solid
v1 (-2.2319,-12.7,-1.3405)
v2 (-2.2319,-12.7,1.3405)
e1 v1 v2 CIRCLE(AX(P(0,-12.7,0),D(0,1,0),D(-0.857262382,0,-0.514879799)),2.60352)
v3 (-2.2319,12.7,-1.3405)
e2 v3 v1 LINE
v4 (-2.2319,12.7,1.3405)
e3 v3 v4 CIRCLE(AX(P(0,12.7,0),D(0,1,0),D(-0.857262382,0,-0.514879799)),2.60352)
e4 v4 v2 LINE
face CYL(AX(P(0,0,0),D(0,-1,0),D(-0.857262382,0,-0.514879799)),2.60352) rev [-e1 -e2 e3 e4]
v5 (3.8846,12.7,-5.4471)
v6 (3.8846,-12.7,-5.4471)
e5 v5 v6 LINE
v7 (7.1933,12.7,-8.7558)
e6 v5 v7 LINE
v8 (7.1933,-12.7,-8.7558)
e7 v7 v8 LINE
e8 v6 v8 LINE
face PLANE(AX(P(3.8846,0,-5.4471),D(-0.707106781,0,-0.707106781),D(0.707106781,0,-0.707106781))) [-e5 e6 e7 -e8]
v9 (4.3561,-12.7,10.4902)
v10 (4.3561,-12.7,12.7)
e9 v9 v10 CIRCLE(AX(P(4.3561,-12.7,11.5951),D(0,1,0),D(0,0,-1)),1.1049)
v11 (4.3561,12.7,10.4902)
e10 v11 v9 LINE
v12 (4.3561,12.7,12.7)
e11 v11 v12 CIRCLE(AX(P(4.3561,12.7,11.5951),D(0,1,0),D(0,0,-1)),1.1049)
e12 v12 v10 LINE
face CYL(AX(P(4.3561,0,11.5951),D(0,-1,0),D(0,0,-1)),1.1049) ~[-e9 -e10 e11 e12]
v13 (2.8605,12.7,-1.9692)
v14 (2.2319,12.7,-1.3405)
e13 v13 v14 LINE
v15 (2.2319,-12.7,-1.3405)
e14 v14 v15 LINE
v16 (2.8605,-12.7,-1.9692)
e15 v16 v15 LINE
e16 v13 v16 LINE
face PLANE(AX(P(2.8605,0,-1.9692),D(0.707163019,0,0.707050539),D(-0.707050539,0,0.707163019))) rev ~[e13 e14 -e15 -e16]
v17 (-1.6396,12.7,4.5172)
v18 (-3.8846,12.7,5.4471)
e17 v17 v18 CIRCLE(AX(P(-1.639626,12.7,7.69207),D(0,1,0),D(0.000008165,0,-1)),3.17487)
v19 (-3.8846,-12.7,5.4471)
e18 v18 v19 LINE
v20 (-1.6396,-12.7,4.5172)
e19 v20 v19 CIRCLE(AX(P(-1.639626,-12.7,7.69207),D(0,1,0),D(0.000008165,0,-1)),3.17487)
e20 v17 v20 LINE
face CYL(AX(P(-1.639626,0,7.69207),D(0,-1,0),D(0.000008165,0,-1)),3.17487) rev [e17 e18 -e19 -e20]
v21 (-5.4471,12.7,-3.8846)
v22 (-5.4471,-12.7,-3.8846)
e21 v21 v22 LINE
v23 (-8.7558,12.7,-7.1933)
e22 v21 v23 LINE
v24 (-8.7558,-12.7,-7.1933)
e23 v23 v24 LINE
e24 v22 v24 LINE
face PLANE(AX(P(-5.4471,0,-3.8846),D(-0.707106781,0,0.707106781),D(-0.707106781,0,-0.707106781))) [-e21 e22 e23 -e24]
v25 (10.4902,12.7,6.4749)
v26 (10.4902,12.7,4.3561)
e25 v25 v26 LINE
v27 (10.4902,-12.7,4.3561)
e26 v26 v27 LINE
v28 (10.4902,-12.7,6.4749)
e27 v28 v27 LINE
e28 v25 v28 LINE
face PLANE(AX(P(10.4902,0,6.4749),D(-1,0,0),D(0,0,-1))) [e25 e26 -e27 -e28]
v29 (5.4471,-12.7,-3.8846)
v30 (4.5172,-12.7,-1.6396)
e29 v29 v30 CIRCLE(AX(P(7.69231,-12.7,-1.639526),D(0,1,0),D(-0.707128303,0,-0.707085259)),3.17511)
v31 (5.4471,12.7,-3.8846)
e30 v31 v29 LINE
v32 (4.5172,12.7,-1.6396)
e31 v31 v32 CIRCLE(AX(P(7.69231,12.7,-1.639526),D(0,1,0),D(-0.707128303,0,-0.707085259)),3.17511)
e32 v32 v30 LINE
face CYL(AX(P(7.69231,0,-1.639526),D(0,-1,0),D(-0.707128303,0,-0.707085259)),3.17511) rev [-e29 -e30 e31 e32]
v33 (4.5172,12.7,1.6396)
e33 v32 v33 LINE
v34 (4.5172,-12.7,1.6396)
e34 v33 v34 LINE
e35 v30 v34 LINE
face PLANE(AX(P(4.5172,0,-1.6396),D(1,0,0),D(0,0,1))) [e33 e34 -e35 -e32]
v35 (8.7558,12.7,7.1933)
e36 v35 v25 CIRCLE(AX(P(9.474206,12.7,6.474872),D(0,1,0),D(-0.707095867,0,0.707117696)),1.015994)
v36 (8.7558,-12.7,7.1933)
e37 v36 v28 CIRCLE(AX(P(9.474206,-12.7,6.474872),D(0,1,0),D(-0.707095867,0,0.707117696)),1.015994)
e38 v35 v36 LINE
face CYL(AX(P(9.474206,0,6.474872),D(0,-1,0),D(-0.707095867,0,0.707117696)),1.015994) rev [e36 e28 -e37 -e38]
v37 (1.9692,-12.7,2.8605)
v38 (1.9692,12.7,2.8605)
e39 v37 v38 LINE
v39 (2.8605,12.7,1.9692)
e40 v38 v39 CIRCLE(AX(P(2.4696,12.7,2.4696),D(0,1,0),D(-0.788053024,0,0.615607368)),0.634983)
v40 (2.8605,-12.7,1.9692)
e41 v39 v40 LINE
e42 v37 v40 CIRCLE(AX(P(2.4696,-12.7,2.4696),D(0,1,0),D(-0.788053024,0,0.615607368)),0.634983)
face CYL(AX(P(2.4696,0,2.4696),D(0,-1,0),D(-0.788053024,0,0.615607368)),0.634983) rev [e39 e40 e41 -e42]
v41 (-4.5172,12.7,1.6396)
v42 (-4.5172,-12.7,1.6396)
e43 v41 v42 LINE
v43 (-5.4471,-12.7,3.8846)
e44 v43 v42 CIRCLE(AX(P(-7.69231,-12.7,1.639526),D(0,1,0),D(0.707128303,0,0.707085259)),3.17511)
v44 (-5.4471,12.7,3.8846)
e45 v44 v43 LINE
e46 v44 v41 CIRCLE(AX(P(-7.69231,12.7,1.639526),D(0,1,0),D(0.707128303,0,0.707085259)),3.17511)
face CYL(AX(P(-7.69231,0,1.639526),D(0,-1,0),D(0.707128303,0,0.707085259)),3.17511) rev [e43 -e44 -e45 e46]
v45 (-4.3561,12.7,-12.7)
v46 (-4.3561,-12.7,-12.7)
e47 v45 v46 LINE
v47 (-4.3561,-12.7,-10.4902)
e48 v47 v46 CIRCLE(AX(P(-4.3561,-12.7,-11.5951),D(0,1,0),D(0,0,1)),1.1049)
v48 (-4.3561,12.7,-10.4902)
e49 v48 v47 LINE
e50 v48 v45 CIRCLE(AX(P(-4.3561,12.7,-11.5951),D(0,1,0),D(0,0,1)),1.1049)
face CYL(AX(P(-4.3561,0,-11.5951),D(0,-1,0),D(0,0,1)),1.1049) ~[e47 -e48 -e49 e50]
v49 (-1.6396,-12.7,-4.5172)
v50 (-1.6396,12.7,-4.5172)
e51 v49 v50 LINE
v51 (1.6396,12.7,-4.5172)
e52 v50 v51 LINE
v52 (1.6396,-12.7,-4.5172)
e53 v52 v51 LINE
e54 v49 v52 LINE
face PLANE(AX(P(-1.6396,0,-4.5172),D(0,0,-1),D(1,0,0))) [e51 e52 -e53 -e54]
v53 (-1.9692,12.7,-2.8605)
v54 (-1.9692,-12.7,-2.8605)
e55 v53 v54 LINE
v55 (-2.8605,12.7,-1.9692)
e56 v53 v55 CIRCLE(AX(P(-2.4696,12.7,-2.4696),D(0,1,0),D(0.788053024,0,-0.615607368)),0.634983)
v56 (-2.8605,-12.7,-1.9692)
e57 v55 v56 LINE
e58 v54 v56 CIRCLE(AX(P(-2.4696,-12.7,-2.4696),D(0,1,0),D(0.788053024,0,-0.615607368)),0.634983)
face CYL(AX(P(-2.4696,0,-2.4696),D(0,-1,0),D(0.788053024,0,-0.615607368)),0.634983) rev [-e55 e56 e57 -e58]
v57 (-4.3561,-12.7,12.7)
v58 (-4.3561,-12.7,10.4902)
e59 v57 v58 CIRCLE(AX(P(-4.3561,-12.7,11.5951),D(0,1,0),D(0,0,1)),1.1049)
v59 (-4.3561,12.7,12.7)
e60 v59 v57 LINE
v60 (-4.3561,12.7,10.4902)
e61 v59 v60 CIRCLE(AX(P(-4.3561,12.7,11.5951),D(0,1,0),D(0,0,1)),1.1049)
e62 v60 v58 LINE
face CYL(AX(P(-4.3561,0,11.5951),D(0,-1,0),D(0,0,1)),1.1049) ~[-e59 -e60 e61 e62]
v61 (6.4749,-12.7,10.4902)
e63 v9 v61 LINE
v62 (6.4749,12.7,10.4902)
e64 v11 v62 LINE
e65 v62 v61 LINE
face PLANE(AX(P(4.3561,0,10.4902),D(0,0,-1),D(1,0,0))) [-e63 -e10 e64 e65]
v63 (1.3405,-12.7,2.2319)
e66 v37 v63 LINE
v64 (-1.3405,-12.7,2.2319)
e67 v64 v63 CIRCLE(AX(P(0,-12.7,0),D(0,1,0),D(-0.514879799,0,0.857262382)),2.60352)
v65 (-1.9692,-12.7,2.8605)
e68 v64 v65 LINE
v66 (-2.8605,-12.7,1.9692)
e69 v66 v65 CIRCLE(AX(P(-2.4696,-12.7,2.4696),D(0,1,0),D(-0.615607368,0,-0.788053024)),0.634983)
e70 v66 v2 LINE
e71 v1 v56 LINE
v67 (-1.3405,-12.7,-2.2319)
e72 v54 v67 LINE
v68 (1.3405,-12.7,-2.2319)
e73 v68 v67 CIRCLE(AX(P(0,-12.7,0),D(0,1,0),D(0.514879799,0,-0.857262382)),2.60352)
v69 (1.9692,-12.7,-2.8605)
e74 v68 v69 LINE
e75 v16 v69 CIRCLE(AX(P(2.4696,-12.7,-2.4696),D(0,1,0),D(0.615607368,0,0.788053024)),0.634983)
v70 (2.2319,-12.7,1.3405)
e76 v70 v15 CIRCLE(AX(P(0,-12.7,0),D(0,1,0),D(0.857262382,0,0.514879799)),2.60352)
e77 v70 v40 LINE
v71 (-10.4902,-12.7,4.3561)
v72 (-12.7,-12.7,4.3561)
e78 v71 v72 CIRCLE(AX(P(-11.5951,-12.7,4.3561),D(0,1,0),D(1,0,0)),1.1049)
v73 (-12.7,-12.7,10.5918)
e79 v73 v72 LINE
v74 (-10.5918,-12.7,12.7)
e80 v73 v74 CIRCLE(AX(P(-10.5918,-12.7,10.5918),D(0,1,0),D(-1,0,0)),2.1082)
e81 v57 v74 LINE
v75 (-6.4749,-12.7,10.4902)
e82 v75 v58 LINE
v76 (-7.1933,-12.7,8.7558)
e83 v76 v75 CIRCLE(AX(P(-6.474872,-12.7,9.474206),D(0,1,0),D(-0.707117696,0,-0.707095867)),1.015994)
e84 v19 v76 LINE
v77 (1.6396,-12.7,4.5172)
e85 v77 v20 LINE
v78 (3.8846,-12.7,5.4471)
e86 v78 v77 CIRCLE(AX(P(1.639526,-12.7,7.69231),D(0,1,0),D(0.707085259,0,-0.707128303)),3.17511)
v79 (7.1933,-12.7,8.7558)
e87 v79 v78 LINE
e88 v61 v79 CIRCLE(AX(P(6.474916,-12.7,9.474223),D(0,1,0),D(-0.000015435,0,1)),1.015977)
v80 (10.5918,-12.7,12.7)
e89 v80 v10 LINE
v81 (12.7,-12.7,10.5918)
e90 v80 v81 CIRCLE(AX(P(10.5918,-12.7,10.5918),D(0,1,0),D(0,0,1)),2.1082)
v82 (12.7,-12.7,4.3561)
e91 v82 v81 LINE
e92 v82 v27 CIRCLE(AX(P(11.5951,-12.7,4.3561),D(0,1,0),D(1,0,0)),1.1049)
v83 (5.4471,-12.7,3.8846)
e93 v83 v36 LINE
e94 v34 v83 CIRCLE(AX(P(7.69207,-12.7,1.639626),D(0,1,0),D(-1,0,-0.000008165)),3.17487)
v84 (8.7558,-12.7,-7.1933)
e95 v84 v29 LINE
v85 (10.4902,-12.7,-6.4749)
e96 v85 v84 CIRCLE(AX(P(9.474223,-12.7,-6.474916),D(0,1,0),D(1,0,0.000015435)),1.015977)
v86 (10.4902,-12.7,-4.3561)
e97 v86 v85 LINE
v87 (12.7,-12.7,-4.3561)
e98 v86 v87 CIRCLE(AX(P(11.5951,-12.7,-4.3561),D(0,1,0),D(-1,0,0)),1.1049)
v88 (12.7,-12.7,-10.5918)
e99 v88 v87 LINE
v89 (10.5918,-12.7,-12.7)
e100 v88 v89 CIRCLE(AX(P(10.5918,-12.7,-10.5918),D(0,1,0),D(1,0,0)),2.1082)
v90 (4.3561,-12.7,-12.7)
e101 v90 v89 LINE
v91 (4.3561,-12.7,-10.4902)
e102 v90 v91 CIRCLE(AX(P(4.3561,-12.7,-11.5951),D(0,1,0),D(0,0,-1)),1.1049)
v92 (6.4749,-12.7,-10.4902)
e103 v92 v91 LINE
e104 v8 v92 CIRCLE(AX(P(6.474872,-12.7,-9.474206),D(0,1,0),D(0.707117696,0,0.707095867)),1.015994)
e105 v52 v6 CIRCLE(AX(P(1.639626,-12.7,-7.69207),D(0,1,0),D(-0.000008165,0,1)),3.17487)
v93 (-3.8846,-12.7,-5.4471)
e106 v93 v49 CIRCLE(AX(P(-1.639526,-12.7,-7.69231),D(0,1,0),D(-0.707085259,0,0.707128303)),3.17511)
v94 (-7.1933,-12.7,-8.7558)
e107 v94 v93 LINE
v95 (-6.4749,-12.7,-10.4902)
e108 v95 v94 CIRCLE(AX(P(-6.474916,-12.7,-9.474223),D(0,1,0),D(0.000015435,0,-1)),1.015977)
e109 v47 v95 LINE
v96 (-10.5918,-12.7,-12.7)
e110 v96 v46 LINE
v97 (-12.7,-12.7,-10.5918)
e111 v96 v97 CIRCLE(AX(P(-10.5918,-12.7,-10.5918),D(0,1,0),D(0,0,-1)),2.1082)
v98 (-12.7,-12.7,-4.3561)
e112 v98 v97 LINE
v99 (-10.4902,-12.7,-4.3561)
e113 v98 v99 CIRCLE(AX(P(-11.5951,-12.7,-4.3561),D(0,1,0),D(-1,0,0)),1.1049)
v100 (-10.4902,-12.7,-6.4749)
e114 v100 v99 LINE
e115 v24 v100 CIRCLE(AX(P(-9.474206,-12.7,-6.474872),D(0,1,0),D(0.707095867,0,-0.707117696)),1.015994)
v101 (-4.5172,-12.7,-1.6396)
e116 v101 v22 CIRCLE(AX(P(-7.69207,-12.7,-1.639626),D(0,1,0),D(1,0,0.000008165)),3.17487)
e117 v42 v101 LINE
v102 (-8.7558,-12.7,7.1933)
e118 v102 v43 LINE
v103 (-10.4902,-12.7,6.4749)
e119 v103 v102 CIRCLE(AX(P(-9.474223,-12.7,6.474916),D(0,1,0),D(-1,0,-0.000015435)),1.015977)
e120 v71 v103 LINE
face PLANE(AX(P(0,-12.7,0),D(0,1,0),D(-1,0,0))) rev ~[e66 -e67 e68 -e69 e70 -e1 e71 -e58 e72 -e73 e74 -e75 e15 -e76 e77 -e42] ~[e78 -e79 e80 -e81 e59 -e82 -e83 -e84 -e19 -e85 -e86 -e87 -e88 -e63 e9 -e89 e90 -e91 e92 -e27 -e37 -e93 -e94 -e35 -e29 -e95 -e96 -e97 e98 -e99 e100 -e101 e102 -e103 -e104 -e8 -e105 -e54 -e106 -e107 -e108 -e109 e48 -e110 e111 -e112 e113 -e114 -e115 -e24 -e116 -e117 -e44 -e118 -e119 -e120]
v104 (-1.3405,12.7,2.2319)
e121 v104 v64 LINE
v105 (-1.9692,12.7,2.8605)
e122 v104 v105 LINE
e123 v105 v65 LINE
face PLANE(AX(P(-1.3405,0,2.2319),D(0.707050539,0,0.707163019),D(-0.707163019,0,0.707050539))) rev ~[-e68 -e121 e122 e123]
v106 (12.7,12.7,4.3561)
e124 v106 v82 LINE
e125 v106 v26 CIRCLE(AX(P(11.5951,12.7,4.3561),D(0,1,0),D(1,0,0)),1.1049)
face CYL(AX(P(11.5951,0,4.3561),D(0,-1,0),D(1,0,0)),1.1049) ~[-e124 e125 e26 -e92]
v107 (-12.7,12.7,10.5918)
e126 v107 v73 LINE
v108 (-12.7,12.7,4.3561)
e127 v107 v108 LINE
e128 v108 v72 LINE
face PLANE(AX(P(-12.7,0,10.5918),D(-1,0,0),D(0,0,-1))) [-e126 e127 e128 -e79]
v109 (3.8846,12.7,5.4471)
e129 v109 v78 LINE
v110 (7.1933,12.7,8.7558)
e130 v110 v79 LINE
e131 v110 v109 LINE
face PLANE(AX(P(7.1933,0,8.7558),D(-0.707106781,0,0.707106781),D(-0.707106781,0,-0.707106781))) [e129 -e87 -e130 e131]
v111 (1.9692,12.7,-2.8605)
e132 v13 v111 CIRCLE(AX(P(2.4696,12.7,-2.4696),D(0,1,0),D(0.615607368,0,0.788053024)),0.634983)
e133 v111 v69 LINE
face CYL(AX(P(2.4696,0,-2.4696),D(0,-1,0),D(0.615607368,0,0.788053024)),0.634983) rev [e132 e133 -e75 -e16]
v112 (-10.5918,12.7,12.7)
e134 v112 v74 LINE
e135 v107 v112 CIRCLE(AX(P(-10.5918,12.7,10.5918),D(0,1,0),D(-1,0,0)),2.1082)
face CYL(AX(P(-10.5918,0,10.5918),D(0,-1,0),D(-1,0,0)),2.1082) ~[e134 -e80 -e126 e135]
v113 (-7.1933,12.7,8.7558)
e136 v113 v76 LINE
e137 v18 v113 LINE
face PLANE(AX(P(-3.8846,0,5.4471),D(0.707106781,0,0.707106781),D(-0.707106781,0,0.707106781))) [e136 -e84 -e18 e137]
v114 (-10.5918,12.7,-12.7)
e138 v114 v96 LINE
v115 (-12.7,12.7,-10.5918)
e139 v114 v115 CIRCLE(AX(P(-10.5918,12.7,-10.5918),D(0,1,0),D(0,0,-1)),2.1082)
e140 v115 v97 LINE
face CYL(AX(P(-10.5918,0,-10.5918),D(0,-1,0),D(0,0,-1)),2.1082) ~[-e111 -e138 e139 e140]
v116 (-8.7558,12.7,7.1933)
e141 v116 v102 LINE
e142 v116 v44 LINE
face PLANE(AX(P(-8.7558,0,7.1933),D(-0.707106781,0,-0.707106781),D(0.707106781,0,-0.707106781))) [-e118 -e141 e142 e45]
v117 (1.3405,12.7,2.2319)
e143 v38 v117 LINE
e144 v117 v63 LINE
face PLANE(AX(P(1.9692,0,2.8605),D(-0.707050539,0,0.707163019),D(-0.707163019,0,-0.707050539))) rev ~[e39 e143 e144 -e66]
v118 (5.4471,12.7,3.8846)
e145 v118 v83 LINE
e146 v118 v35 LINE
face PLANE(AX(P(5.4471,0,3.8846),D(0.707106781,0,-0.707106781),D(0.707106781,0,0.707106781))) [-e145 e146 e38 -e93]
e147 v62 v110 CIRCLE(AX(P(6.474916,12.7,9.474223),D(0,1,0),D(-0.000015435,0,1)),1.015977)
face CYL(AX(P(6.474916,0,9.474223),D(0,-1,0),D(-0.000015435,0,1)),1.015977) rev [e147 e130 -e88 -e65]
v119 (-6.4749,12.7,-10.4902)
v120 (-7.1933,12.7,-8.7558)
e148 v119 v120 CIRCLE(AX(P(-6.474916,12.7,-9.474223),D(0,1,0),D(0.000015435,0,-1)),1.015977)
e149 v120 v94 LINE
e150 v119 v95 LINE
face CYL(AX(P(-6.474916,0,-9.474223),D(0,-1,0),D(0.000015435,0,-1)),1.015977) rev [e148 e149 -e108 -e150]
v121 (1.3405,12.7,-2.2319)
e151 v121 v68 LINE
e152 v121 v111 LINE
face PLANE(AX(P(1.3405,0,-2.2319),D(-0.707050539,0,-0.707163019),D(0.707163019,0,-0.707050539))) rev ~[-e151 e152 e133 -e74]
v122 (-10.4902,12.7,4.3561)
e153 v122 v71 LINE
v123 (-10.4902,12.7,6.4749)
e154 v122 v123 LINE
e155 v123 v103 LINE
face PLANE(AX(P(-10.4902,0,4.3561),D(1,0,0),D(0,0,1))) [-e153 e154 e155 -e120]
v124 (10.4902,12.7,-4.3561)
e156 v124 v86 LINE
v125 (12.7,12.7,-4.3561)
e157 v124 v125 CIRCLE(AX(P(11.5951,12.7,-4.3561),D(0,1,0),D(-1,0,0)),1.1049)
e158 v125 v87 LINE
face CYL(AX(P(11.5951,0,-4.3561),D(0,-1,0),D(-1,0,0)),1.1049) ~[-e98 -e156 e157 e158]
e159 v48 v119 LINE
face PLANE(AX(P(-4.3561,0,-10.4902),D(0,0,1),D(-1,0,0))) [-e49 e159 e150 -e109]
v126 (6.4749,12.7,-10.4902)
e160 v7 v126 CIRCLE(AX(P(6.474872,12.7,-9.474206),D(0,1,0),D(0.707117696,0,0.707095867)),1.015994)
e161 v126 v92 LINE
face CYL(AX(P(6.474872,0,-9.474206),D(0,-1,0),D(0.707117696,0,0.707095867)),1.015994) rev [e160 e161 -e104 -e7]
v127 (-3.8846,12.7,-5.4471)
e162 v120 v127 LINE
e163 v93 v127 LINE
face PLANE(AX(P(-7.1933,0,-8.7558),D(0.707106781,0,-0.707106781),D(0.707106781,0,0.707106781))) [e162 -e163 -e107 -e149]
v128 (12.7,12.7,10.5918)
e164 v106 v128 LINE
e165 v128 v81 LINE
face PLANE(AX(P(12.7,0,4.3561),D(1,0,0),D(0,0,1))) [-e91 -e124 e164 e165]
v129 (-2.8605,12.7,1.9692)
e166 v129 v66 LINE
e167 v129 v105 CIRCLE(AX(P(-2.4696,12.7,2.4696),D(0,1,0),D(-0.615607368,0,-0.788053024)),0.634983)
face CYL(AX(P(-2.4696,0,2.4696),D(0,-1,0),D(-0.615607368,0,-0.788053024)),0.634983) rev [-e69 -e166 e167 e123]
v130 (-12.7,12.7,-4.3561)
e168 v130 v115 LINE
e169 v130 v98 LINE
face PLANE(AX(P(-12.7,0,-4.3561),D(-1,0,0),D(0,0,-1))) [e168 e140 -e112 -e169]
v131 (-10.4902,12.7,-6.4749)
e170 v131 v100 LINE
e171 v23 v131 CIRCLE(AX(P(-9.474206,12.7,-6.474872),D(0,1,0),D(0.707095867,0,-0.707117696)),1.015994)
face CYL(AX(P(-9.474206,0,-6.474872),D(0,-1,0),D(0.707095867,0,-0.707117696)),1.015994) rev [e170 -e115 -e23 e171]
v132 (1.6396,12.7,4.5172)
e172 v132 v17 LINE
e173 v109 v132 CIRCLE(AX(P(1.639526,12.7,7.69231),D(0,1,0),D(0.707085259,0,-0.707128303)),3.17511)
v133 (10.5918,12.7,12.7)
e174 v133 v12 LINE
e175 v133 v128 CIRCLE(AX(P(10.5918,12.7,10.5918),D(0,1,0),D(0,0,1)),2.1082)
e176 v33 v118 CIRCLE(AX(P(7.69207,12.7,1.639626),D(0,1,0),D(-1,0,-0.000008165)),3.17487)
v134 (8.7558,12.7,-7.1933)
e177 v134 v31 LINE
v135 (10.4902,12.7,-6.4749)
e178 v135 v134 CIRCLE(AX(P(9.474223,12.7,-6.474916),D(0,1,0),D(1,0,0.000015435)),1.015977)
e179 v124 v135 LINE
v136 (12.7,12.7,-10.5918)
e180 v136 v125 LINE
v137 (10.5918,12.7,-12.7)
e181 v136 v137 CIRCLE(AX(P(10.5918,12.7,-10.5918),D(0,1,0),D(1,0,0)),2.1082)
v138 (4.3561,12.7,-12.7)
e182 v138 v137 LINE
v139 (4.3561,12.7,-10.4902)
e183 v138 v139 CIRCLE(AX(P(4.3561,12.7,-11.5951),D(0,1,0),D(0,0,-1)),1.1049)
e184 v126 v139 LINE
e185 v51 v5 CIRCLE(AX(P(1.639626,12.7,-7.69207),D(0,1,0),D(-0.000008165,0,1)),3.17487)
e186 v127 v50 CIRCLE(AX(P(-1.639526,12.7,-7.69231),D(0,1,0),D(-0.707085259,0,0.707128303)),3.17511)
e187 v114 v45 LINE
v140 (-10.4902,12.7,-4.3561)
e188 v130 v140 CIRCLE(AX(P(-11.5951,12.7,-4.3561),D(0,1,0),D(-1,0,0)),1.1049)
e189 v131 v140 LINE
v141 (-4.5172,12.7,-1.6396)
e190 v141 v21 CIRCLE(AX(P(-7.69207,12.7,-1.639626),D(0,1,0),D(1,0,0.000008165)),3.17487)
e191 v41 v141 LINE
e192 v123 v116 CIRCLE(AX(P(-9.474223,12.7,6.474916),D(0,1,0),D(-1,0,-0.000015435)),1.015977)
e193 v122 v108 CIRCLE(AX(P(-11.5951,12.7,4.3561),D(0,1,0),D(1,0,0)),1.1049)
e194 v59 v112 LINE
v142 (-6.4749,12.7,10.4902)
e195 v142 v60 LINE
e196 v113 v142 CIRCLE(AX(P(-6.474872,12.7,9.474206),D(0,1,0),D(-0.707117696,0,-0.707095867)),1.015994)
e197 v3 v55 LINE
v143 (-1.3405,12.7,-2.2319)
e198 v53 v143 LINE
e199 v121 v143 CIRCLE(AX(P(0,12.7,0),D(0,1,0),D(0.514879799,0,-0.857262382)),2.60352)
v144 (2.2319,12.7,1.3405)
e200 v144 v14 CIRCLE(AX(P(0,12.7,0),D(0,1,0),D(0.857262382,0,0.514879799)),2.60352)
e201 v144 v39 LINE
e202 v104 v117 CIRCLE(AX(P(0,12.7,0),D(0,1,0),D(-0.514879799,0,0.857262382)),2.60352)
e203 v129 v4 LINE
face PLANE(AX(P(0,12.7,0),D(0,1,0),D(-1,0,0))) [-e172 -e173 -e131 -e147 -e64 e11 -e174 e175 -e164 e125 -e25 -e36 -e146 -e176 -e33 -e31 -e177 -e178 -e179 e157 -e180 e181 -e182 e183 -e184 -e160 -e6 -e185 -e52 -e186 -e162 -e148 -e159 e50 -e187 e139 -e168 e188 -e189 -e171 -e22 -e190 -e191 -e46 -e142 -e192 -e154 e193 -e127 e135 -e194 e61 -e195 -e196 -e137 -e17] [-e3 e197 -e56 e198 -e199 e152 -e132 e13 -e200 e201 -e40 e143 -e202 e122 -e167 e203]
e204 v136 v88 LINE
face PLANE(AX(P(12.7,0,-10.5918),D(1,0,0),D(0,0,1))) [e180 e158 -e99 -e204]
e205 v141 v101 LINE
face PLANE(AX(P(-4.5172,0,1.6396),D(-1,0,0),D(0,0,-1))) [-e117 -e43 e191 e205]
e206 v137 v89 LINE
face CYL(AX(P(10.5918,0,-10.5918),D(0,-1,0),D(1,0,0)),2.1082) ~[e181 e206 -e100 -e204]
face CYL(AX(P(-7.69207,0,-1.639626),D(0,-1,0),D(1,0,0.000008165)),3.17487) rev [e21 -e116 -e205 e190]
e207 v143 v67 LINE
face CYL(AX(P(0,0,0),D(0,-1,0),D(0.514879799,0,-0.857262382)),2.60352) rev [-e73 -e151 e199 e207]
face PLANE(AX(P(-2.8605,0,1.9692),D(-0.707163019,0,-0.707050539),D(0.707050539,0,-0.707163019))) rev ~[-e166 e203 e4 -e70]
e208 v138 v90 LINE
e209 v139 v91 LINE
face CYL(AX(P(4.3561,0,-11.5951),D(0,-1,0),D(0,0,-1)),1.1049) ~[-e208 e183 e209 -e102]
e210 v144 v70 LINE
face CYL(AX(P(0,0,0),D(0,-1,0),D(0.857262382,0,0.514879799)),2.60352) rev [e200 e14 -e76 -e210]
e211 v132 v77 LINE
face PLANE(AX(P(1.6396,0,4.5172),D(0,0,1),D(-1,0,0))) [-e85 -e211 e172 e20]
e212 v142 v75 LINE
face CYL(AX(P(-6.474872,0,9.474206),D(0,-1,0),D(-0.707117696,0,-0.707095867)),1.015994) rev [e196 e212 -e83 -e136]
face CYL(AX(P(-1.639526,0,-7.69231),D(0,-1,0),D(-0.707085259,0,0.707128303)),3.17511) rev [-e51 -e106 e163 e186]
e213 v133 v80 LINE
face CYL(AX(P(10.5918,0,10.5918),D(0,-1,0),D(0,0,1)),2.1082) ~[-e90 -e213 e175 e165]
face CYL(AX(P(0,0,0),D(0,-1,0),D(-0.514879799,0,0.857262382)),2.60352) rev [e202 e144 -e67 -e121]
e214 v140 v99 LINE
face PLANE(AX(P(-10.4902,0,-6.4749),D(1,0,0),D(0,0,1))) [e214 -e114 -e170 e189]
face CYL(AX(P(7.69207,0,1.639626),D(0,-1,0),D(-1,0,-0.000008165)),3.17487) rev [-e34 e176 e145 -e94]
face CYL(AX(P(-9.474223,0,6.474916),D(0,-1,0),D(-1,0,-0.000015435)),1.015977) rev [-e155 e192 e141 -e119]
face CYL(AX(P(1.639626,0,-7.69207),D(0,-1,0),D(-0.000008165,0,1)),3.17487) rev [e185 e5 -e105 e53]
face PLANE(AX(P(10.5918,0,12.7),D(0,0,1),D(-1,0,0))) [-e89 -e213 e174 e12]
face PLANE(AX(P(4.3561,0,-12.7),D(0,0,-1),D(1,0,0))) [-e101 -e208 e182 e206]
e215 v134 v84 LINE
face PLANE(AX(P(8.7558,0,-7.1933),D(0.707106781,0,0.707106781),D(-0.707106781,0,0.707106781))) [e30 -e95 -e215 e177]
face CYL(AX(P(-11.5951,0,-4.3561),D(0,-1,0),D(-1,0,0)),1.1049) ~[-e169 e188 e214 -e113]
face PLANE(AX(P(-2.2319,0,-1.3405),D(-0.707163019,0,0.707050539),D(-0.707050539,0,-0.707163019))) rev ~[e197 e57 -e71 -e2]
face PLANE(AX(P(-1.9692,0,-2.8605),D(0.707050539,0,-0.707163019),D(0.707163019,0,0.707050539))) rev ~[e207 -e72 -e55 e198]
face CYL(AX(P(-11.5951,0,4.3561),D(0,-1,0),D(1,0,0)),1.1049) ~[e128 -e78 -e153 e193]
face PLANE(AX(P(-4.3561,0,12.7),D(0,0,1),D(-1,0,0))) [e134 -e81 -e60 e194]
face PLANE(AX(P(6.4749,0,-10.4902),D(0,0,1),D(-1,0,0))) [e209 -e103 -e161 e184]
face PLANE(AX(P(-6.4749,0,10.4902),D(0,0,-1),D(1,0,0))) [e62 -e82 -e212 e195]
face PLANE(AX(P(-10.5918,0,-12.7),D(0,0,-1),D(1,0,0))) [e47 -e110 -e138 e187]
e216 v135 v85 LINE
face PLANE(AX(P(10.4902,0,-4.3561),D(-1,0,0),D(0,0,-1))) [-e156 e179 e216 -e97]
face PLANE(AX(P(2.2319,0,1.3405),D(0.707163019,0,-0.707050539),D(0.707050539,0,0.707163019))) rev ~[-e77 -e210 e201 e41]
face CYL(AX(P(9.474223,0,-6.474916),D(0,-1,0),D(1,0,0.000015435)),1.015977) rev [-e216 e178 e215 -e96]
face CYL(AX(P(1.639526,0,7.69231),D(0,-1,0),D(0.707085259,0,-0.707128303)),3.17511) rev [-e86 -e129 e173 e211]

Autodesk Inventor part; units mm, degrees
ref_plane "YZ Plane" through (0, 0, 0) normal (1, 0, 0) x (0, 1, 0)
ref_plane "XZ Plane" through (0, 0, 0) normal (0, 1, 0) x (-1, 0, 0)
ref_plane "XY Plane" through (0, 0, 0) normal (0, 0, 1) x (1, 0, 0)
sketch "Sketch1" plane through (0, 0, 0) normal (0, 1, 0) x (-1, 0, 0)
  arc A0 (-1.9692, 2.8605) -> (-2.8605, 1.9692) centre (-2.4696, 2.4696) ccw
  line L0 (-2.2319, 1.3405) -> (-2.8605, 1.9692)
  arc A1 (-2.2319, 1.3405) -> (-2.2319, -1.3405) centre (0, 0) ccw
  line L1 (-2.8605, -1.9692) -> (-2.2319, -1.3405)
  arc A2 (-2.8605, -1.9692) -> (-1.9692, -2.8605) centre (-2.4696, -2.4696) ccw
  line L2 (-1.3405, -2.2319) -> (-1.9692, -2.8605)
  arc A3 (-1.3405, -2.2319) -> (1.3405, -2.2319) centre (0, 0) ccw
  line L3 (1.9692, -2.8605) -> (1.3405, -2.2319)
  arc A4 (1.9692, -2.8605) -> (2.8605, -1.9692) centre (2.4696, -2.4696) ccw
  line L4 (2.2319, -1.3405) -> (2.8605, -1.9692)
  arc A5 (2.2319, -1.3405) -> (2.2319, 1.3405) centre (0, 0) ccw
  line L5 (2.8605, 1.9692) -> (2.2319, 1.3405)
  arc A6 (2.8605, 1.9692) -> (1.9692, 2.8605) centre (2.4696, 2.4696) ccw
  line L6 (1.3405, 2.2319) -> (1.9692, 2.8605)
  arc A7 (1.3405, 2.2319) -> (-1.3405, 2.2319) centre (0, 0) ccw
  line L7 (-1.9692, 2.8605) -> (-1.3405, 2.2319)
  arc A8 (-1.6396, -4.5172) -> (-3.8846, -5.4471) centre (-1.6396, -7.6922) ccw
  line L8 (-3.8846, -5.4471) -> (-7.1933, -8.7558)
  arc A9 (-7.1933, -8.7558) -> (-6.4749, -10.4902) centre (-6.4749, -9.4742) ccw
  line L9 (-6.4749, -10.4902) -> (-4.3561, -10.4902)
  arc A10 (-4.3561, -12.7) -> (-4.3561, -10.4902) centre (-4.3561, -11.5951) ccw
  line L10 (-4.3561, -12.7) -> (-10.5918, -12.7)
  arc A11 (-12.7, -10.5918) -> (-10.5918, -12.7) centre (-10.5918, -10.5918) ccw
  line L11 (-12.7, -10.5918) -> (-12.7, -4.3561)
  arc A12 (-10.4902, -4.3561) -> (-12.7, -4.3561) centre (-11.5951, -4.3561) ccw
  line L12 (-10.4902, -4.3561) -> (-10.4902, -6.4749)
  arc A13 (-10.4902, -6.4749) -> (-8.7558, -7.1933) centre (-9.4742, -6.4749) ccw
  line L13 (-8.7558, -7.1933) -> (-5.4471, -3.8846)
  arc A14 (-5.4471, -3.8846) -> (-4.5172, -1.6396) centre (-7.6922, -1.6396) ccw
  line L14 (-4.5172, -1.6396) -> (-4.5172, 1.6396)
  arc A15 (-4.5172, 1.6396) -> (-5.4471, 3.8846) centre (-7.6922, 1.6396) ccw
  line L15 (-5.4471, 3.8846) -> (-8.7558, 7.1933)
  arc A16 (-8.7558, 7.1933) -> (-10.4902, 6.4749) centre (-9.4742, 6.4749) ccw
  line L16 (-10.4902, 6.4749) -> (-10.4902, 4.3561)
  arc A17 (-12.7, 4.3561) -> (-10.4902, 4.3561) centre (-11.5951, 4.3561) ccw
  line L17 (-12.7, 4.3561) -> (-12.7, 10.5918)
  arc A18 (-10.5918, 12.7) -> (-12.7, 10.5918) centre (-10.5918, 10.5918) ccw
  line L18 (-10.5918, 12.7) -> (-4.3561, 12.7)
  arc A19 (-4.3561, 10.4902) -> (-4.3561, 12.7) centre (-4.3561, 11.5951) ccw
  line L19 (-4.3561, 10.4902) -> (-6.4749, 10.4902)
  arc A20 (-6.4749, 10.4902) -> (-7.1933, 8.7558) centre (-6.4749, 9.4742) ccw
  line L20 (-7.1933, 8.7558) -> (-3.8846, 5.4471)
  arc A21 (-3.8846, 5.4471) -> (-1.6396, 4.5172) centre (-1.6396, 7.6922) ccw
  line L21 (-1.6396, 4.5172) -> (1.6396, 4.5172)
  arc A22 (1.6396, 4.5172) -> (3.8846, 5.4471) centre (1.6396, 7.6922) ccw
  line L22 (3.8846, 5.4471) -> (7.1933, 8.7558)
  arc A23 (7.1933, 8.7558) -> (6.4749, 10.4902) centre (6.4749, 9.4742) ccw
  line L23 (6.4749, 10.4902) -> (4.3561, 10.4902)
  arc A24 (4.3561, 12.7) -> (4.3561, 10.4902) centre (4.3561, 11.5951) ccw
  line L24 (4.3561, 12.7) -> (10.5918, 12.7)
  arc A25 (12.7, 10.5918) -> (10.5918, 12.7) centre (10.5918, 10.5918) ccw
  line L25 (12.7, 10.5918) -> (12.7, 4.3561)
  arc A26 (10.4902, 4.3561) -> (12.7, 4.3561) centre (11.5951, 4.3561) ccw
  line L26 (10.4902, 4.3561) -> (10.4902, 6.4749)
  arc A27 (10.4902, 6.4749) -> (8.7558, 7.1933) centre (9.4742, 6.4749) ccw
  line L27 (8.7558, 7.1933) -> (5.4471, 3.8846)
  arc A28 (5.4471, 3.8846) -> (4.5172, 1.6396) centre (7.6922, 1.6396) ccw
  line L28 (4.5172, 1.6396) -> (4.5172, -1.6396)
  arc A29 (4.5172, -1.6396) -> (5.4471, -3.8846) centre (7.6922, -1.6396) ccw
  line L29 (5.4471, -3.8846) -> (8.7558, -7.1933)
  arc A30 (8.7558, -7.1933) -> (10.4902, -6.4749) centre (9.4742, -6.4749) ccw
  line L30 (10.4902, -6.4749) -> (10.4902, -4.3561)
  arc A31 (12.7, -4.3561) -> (10.4902, -4.3561) centre (11.5951, -4.3561) ccw
  line L31 (12.7, -4.3561) -> (12.7, -10.5918)
  arc A32 (10.5918, -12.7) -> (12.7, -10.5918) centre (10.5918, -10.5918) ccw
  line L32 (10.5918, -12.7) -> (4.3561, -12.7)
  arc A33 (4.3561, -10.4902) -> (4.3561, -12.7) centre (4.3561, -11.5951) ccw
  line L33 (4.3561, -10.4902) -> (6.4749, -10.4902)
  arc A34 (6.4749, -10.4902) -> (7.1933, -8.7558) centre (6.4749, -9.4742) ccw
  line L34 (7.1933, -8.7558) -> (3.8846, -5.4471)
  arc A35 (3.8846, -5.4471) -> (1.6396, -4.5172) centre (1.6396, -7.6922) ccw
  line L35 (1.6396, -4.5172) -> (-1.6396, -4.5172)
  dimension "d0" = 1.1049
  dimension "d1" = 2.1082
  dimension "d2" = 1.016
  dimension "d3" = 3.175
  dimension "d4" = 0.635
  dimension "d5" = 2.6035
  dimension "d6" = 2.6035
  dimension "d7" = 2.6035
  dimension "d8" = 2.6035
  dimension "d9" = 45
  dimension "d10" = 45
  dimension "d11" = 45
  dimension "d12" = 45
  dimension "d13" = 45
  dimension "d14" = 45
  dimension "d15" = 45
  dimension "d16" = 90
  dimension "d17" = 90
  dimension "d18" = 45
  dimension "d19" = 45
  dimension "d20" = 90
  dimension "d21" = 90
  dimension "d22" = 90
  dimension "d23" = 90
  dimension "d24" = 90
  dimension "d25" = 90
  dimension "d26" = 8.1828
  dimension "d27" = 17.2172
  dimension "d28" = 23.1902
  dimension "d29" = 25.4
  dimension "d30" = 8.1828
  dimension "d31" = 17.2172
  dimension "d32" = 2.2096
  dimension "d33" = 0.4746
  dimension "d34" = 1.7351
  dimension "d35" = 1.2605
  dimension "d36" = 0.4746
  dimension "d37" = 1.7351
  dimension "d38" = 12.7
  dimension "d39" = 12.7
  dimension "d40" = 10.4902
  dimension "d41" = 12.7
  dimension "d42" = 1.1048
  dimension "d43" = 1.1048
  dimension "d44" = 1.1048
  dimension "d45" = 0.6303
  dimension "d46" = 0.6303
  dimension "d47" = 0.6303
  dimension "d48" = 0.6303
  dimension "d49" = 0.6303
  dimension "d50" = 10.4902
  dimension "d51" = 10.4902
  dimension "d52" = 1.1048
  dimension "d53" = 1.1048
  dimension "d54" = 12.7
  dimension "d55" = 12.7
  dimension "d56" = 10.4902
  dimension "d57" = 12.7
  dimension "d58" = 8.3439
  dimension "d59" = 17.0561
  dimension "d60" = 8.3439
  dimension "d61" = 8.3439
  dimension "d62" = 9.8395
  dimension "d63" = 9.8395
extrude "Extrusion1" add sketch "Sketch1" along normal mid plane 25.4
properties part number "1010-S-BLACK-FB" material "6061-T6"
